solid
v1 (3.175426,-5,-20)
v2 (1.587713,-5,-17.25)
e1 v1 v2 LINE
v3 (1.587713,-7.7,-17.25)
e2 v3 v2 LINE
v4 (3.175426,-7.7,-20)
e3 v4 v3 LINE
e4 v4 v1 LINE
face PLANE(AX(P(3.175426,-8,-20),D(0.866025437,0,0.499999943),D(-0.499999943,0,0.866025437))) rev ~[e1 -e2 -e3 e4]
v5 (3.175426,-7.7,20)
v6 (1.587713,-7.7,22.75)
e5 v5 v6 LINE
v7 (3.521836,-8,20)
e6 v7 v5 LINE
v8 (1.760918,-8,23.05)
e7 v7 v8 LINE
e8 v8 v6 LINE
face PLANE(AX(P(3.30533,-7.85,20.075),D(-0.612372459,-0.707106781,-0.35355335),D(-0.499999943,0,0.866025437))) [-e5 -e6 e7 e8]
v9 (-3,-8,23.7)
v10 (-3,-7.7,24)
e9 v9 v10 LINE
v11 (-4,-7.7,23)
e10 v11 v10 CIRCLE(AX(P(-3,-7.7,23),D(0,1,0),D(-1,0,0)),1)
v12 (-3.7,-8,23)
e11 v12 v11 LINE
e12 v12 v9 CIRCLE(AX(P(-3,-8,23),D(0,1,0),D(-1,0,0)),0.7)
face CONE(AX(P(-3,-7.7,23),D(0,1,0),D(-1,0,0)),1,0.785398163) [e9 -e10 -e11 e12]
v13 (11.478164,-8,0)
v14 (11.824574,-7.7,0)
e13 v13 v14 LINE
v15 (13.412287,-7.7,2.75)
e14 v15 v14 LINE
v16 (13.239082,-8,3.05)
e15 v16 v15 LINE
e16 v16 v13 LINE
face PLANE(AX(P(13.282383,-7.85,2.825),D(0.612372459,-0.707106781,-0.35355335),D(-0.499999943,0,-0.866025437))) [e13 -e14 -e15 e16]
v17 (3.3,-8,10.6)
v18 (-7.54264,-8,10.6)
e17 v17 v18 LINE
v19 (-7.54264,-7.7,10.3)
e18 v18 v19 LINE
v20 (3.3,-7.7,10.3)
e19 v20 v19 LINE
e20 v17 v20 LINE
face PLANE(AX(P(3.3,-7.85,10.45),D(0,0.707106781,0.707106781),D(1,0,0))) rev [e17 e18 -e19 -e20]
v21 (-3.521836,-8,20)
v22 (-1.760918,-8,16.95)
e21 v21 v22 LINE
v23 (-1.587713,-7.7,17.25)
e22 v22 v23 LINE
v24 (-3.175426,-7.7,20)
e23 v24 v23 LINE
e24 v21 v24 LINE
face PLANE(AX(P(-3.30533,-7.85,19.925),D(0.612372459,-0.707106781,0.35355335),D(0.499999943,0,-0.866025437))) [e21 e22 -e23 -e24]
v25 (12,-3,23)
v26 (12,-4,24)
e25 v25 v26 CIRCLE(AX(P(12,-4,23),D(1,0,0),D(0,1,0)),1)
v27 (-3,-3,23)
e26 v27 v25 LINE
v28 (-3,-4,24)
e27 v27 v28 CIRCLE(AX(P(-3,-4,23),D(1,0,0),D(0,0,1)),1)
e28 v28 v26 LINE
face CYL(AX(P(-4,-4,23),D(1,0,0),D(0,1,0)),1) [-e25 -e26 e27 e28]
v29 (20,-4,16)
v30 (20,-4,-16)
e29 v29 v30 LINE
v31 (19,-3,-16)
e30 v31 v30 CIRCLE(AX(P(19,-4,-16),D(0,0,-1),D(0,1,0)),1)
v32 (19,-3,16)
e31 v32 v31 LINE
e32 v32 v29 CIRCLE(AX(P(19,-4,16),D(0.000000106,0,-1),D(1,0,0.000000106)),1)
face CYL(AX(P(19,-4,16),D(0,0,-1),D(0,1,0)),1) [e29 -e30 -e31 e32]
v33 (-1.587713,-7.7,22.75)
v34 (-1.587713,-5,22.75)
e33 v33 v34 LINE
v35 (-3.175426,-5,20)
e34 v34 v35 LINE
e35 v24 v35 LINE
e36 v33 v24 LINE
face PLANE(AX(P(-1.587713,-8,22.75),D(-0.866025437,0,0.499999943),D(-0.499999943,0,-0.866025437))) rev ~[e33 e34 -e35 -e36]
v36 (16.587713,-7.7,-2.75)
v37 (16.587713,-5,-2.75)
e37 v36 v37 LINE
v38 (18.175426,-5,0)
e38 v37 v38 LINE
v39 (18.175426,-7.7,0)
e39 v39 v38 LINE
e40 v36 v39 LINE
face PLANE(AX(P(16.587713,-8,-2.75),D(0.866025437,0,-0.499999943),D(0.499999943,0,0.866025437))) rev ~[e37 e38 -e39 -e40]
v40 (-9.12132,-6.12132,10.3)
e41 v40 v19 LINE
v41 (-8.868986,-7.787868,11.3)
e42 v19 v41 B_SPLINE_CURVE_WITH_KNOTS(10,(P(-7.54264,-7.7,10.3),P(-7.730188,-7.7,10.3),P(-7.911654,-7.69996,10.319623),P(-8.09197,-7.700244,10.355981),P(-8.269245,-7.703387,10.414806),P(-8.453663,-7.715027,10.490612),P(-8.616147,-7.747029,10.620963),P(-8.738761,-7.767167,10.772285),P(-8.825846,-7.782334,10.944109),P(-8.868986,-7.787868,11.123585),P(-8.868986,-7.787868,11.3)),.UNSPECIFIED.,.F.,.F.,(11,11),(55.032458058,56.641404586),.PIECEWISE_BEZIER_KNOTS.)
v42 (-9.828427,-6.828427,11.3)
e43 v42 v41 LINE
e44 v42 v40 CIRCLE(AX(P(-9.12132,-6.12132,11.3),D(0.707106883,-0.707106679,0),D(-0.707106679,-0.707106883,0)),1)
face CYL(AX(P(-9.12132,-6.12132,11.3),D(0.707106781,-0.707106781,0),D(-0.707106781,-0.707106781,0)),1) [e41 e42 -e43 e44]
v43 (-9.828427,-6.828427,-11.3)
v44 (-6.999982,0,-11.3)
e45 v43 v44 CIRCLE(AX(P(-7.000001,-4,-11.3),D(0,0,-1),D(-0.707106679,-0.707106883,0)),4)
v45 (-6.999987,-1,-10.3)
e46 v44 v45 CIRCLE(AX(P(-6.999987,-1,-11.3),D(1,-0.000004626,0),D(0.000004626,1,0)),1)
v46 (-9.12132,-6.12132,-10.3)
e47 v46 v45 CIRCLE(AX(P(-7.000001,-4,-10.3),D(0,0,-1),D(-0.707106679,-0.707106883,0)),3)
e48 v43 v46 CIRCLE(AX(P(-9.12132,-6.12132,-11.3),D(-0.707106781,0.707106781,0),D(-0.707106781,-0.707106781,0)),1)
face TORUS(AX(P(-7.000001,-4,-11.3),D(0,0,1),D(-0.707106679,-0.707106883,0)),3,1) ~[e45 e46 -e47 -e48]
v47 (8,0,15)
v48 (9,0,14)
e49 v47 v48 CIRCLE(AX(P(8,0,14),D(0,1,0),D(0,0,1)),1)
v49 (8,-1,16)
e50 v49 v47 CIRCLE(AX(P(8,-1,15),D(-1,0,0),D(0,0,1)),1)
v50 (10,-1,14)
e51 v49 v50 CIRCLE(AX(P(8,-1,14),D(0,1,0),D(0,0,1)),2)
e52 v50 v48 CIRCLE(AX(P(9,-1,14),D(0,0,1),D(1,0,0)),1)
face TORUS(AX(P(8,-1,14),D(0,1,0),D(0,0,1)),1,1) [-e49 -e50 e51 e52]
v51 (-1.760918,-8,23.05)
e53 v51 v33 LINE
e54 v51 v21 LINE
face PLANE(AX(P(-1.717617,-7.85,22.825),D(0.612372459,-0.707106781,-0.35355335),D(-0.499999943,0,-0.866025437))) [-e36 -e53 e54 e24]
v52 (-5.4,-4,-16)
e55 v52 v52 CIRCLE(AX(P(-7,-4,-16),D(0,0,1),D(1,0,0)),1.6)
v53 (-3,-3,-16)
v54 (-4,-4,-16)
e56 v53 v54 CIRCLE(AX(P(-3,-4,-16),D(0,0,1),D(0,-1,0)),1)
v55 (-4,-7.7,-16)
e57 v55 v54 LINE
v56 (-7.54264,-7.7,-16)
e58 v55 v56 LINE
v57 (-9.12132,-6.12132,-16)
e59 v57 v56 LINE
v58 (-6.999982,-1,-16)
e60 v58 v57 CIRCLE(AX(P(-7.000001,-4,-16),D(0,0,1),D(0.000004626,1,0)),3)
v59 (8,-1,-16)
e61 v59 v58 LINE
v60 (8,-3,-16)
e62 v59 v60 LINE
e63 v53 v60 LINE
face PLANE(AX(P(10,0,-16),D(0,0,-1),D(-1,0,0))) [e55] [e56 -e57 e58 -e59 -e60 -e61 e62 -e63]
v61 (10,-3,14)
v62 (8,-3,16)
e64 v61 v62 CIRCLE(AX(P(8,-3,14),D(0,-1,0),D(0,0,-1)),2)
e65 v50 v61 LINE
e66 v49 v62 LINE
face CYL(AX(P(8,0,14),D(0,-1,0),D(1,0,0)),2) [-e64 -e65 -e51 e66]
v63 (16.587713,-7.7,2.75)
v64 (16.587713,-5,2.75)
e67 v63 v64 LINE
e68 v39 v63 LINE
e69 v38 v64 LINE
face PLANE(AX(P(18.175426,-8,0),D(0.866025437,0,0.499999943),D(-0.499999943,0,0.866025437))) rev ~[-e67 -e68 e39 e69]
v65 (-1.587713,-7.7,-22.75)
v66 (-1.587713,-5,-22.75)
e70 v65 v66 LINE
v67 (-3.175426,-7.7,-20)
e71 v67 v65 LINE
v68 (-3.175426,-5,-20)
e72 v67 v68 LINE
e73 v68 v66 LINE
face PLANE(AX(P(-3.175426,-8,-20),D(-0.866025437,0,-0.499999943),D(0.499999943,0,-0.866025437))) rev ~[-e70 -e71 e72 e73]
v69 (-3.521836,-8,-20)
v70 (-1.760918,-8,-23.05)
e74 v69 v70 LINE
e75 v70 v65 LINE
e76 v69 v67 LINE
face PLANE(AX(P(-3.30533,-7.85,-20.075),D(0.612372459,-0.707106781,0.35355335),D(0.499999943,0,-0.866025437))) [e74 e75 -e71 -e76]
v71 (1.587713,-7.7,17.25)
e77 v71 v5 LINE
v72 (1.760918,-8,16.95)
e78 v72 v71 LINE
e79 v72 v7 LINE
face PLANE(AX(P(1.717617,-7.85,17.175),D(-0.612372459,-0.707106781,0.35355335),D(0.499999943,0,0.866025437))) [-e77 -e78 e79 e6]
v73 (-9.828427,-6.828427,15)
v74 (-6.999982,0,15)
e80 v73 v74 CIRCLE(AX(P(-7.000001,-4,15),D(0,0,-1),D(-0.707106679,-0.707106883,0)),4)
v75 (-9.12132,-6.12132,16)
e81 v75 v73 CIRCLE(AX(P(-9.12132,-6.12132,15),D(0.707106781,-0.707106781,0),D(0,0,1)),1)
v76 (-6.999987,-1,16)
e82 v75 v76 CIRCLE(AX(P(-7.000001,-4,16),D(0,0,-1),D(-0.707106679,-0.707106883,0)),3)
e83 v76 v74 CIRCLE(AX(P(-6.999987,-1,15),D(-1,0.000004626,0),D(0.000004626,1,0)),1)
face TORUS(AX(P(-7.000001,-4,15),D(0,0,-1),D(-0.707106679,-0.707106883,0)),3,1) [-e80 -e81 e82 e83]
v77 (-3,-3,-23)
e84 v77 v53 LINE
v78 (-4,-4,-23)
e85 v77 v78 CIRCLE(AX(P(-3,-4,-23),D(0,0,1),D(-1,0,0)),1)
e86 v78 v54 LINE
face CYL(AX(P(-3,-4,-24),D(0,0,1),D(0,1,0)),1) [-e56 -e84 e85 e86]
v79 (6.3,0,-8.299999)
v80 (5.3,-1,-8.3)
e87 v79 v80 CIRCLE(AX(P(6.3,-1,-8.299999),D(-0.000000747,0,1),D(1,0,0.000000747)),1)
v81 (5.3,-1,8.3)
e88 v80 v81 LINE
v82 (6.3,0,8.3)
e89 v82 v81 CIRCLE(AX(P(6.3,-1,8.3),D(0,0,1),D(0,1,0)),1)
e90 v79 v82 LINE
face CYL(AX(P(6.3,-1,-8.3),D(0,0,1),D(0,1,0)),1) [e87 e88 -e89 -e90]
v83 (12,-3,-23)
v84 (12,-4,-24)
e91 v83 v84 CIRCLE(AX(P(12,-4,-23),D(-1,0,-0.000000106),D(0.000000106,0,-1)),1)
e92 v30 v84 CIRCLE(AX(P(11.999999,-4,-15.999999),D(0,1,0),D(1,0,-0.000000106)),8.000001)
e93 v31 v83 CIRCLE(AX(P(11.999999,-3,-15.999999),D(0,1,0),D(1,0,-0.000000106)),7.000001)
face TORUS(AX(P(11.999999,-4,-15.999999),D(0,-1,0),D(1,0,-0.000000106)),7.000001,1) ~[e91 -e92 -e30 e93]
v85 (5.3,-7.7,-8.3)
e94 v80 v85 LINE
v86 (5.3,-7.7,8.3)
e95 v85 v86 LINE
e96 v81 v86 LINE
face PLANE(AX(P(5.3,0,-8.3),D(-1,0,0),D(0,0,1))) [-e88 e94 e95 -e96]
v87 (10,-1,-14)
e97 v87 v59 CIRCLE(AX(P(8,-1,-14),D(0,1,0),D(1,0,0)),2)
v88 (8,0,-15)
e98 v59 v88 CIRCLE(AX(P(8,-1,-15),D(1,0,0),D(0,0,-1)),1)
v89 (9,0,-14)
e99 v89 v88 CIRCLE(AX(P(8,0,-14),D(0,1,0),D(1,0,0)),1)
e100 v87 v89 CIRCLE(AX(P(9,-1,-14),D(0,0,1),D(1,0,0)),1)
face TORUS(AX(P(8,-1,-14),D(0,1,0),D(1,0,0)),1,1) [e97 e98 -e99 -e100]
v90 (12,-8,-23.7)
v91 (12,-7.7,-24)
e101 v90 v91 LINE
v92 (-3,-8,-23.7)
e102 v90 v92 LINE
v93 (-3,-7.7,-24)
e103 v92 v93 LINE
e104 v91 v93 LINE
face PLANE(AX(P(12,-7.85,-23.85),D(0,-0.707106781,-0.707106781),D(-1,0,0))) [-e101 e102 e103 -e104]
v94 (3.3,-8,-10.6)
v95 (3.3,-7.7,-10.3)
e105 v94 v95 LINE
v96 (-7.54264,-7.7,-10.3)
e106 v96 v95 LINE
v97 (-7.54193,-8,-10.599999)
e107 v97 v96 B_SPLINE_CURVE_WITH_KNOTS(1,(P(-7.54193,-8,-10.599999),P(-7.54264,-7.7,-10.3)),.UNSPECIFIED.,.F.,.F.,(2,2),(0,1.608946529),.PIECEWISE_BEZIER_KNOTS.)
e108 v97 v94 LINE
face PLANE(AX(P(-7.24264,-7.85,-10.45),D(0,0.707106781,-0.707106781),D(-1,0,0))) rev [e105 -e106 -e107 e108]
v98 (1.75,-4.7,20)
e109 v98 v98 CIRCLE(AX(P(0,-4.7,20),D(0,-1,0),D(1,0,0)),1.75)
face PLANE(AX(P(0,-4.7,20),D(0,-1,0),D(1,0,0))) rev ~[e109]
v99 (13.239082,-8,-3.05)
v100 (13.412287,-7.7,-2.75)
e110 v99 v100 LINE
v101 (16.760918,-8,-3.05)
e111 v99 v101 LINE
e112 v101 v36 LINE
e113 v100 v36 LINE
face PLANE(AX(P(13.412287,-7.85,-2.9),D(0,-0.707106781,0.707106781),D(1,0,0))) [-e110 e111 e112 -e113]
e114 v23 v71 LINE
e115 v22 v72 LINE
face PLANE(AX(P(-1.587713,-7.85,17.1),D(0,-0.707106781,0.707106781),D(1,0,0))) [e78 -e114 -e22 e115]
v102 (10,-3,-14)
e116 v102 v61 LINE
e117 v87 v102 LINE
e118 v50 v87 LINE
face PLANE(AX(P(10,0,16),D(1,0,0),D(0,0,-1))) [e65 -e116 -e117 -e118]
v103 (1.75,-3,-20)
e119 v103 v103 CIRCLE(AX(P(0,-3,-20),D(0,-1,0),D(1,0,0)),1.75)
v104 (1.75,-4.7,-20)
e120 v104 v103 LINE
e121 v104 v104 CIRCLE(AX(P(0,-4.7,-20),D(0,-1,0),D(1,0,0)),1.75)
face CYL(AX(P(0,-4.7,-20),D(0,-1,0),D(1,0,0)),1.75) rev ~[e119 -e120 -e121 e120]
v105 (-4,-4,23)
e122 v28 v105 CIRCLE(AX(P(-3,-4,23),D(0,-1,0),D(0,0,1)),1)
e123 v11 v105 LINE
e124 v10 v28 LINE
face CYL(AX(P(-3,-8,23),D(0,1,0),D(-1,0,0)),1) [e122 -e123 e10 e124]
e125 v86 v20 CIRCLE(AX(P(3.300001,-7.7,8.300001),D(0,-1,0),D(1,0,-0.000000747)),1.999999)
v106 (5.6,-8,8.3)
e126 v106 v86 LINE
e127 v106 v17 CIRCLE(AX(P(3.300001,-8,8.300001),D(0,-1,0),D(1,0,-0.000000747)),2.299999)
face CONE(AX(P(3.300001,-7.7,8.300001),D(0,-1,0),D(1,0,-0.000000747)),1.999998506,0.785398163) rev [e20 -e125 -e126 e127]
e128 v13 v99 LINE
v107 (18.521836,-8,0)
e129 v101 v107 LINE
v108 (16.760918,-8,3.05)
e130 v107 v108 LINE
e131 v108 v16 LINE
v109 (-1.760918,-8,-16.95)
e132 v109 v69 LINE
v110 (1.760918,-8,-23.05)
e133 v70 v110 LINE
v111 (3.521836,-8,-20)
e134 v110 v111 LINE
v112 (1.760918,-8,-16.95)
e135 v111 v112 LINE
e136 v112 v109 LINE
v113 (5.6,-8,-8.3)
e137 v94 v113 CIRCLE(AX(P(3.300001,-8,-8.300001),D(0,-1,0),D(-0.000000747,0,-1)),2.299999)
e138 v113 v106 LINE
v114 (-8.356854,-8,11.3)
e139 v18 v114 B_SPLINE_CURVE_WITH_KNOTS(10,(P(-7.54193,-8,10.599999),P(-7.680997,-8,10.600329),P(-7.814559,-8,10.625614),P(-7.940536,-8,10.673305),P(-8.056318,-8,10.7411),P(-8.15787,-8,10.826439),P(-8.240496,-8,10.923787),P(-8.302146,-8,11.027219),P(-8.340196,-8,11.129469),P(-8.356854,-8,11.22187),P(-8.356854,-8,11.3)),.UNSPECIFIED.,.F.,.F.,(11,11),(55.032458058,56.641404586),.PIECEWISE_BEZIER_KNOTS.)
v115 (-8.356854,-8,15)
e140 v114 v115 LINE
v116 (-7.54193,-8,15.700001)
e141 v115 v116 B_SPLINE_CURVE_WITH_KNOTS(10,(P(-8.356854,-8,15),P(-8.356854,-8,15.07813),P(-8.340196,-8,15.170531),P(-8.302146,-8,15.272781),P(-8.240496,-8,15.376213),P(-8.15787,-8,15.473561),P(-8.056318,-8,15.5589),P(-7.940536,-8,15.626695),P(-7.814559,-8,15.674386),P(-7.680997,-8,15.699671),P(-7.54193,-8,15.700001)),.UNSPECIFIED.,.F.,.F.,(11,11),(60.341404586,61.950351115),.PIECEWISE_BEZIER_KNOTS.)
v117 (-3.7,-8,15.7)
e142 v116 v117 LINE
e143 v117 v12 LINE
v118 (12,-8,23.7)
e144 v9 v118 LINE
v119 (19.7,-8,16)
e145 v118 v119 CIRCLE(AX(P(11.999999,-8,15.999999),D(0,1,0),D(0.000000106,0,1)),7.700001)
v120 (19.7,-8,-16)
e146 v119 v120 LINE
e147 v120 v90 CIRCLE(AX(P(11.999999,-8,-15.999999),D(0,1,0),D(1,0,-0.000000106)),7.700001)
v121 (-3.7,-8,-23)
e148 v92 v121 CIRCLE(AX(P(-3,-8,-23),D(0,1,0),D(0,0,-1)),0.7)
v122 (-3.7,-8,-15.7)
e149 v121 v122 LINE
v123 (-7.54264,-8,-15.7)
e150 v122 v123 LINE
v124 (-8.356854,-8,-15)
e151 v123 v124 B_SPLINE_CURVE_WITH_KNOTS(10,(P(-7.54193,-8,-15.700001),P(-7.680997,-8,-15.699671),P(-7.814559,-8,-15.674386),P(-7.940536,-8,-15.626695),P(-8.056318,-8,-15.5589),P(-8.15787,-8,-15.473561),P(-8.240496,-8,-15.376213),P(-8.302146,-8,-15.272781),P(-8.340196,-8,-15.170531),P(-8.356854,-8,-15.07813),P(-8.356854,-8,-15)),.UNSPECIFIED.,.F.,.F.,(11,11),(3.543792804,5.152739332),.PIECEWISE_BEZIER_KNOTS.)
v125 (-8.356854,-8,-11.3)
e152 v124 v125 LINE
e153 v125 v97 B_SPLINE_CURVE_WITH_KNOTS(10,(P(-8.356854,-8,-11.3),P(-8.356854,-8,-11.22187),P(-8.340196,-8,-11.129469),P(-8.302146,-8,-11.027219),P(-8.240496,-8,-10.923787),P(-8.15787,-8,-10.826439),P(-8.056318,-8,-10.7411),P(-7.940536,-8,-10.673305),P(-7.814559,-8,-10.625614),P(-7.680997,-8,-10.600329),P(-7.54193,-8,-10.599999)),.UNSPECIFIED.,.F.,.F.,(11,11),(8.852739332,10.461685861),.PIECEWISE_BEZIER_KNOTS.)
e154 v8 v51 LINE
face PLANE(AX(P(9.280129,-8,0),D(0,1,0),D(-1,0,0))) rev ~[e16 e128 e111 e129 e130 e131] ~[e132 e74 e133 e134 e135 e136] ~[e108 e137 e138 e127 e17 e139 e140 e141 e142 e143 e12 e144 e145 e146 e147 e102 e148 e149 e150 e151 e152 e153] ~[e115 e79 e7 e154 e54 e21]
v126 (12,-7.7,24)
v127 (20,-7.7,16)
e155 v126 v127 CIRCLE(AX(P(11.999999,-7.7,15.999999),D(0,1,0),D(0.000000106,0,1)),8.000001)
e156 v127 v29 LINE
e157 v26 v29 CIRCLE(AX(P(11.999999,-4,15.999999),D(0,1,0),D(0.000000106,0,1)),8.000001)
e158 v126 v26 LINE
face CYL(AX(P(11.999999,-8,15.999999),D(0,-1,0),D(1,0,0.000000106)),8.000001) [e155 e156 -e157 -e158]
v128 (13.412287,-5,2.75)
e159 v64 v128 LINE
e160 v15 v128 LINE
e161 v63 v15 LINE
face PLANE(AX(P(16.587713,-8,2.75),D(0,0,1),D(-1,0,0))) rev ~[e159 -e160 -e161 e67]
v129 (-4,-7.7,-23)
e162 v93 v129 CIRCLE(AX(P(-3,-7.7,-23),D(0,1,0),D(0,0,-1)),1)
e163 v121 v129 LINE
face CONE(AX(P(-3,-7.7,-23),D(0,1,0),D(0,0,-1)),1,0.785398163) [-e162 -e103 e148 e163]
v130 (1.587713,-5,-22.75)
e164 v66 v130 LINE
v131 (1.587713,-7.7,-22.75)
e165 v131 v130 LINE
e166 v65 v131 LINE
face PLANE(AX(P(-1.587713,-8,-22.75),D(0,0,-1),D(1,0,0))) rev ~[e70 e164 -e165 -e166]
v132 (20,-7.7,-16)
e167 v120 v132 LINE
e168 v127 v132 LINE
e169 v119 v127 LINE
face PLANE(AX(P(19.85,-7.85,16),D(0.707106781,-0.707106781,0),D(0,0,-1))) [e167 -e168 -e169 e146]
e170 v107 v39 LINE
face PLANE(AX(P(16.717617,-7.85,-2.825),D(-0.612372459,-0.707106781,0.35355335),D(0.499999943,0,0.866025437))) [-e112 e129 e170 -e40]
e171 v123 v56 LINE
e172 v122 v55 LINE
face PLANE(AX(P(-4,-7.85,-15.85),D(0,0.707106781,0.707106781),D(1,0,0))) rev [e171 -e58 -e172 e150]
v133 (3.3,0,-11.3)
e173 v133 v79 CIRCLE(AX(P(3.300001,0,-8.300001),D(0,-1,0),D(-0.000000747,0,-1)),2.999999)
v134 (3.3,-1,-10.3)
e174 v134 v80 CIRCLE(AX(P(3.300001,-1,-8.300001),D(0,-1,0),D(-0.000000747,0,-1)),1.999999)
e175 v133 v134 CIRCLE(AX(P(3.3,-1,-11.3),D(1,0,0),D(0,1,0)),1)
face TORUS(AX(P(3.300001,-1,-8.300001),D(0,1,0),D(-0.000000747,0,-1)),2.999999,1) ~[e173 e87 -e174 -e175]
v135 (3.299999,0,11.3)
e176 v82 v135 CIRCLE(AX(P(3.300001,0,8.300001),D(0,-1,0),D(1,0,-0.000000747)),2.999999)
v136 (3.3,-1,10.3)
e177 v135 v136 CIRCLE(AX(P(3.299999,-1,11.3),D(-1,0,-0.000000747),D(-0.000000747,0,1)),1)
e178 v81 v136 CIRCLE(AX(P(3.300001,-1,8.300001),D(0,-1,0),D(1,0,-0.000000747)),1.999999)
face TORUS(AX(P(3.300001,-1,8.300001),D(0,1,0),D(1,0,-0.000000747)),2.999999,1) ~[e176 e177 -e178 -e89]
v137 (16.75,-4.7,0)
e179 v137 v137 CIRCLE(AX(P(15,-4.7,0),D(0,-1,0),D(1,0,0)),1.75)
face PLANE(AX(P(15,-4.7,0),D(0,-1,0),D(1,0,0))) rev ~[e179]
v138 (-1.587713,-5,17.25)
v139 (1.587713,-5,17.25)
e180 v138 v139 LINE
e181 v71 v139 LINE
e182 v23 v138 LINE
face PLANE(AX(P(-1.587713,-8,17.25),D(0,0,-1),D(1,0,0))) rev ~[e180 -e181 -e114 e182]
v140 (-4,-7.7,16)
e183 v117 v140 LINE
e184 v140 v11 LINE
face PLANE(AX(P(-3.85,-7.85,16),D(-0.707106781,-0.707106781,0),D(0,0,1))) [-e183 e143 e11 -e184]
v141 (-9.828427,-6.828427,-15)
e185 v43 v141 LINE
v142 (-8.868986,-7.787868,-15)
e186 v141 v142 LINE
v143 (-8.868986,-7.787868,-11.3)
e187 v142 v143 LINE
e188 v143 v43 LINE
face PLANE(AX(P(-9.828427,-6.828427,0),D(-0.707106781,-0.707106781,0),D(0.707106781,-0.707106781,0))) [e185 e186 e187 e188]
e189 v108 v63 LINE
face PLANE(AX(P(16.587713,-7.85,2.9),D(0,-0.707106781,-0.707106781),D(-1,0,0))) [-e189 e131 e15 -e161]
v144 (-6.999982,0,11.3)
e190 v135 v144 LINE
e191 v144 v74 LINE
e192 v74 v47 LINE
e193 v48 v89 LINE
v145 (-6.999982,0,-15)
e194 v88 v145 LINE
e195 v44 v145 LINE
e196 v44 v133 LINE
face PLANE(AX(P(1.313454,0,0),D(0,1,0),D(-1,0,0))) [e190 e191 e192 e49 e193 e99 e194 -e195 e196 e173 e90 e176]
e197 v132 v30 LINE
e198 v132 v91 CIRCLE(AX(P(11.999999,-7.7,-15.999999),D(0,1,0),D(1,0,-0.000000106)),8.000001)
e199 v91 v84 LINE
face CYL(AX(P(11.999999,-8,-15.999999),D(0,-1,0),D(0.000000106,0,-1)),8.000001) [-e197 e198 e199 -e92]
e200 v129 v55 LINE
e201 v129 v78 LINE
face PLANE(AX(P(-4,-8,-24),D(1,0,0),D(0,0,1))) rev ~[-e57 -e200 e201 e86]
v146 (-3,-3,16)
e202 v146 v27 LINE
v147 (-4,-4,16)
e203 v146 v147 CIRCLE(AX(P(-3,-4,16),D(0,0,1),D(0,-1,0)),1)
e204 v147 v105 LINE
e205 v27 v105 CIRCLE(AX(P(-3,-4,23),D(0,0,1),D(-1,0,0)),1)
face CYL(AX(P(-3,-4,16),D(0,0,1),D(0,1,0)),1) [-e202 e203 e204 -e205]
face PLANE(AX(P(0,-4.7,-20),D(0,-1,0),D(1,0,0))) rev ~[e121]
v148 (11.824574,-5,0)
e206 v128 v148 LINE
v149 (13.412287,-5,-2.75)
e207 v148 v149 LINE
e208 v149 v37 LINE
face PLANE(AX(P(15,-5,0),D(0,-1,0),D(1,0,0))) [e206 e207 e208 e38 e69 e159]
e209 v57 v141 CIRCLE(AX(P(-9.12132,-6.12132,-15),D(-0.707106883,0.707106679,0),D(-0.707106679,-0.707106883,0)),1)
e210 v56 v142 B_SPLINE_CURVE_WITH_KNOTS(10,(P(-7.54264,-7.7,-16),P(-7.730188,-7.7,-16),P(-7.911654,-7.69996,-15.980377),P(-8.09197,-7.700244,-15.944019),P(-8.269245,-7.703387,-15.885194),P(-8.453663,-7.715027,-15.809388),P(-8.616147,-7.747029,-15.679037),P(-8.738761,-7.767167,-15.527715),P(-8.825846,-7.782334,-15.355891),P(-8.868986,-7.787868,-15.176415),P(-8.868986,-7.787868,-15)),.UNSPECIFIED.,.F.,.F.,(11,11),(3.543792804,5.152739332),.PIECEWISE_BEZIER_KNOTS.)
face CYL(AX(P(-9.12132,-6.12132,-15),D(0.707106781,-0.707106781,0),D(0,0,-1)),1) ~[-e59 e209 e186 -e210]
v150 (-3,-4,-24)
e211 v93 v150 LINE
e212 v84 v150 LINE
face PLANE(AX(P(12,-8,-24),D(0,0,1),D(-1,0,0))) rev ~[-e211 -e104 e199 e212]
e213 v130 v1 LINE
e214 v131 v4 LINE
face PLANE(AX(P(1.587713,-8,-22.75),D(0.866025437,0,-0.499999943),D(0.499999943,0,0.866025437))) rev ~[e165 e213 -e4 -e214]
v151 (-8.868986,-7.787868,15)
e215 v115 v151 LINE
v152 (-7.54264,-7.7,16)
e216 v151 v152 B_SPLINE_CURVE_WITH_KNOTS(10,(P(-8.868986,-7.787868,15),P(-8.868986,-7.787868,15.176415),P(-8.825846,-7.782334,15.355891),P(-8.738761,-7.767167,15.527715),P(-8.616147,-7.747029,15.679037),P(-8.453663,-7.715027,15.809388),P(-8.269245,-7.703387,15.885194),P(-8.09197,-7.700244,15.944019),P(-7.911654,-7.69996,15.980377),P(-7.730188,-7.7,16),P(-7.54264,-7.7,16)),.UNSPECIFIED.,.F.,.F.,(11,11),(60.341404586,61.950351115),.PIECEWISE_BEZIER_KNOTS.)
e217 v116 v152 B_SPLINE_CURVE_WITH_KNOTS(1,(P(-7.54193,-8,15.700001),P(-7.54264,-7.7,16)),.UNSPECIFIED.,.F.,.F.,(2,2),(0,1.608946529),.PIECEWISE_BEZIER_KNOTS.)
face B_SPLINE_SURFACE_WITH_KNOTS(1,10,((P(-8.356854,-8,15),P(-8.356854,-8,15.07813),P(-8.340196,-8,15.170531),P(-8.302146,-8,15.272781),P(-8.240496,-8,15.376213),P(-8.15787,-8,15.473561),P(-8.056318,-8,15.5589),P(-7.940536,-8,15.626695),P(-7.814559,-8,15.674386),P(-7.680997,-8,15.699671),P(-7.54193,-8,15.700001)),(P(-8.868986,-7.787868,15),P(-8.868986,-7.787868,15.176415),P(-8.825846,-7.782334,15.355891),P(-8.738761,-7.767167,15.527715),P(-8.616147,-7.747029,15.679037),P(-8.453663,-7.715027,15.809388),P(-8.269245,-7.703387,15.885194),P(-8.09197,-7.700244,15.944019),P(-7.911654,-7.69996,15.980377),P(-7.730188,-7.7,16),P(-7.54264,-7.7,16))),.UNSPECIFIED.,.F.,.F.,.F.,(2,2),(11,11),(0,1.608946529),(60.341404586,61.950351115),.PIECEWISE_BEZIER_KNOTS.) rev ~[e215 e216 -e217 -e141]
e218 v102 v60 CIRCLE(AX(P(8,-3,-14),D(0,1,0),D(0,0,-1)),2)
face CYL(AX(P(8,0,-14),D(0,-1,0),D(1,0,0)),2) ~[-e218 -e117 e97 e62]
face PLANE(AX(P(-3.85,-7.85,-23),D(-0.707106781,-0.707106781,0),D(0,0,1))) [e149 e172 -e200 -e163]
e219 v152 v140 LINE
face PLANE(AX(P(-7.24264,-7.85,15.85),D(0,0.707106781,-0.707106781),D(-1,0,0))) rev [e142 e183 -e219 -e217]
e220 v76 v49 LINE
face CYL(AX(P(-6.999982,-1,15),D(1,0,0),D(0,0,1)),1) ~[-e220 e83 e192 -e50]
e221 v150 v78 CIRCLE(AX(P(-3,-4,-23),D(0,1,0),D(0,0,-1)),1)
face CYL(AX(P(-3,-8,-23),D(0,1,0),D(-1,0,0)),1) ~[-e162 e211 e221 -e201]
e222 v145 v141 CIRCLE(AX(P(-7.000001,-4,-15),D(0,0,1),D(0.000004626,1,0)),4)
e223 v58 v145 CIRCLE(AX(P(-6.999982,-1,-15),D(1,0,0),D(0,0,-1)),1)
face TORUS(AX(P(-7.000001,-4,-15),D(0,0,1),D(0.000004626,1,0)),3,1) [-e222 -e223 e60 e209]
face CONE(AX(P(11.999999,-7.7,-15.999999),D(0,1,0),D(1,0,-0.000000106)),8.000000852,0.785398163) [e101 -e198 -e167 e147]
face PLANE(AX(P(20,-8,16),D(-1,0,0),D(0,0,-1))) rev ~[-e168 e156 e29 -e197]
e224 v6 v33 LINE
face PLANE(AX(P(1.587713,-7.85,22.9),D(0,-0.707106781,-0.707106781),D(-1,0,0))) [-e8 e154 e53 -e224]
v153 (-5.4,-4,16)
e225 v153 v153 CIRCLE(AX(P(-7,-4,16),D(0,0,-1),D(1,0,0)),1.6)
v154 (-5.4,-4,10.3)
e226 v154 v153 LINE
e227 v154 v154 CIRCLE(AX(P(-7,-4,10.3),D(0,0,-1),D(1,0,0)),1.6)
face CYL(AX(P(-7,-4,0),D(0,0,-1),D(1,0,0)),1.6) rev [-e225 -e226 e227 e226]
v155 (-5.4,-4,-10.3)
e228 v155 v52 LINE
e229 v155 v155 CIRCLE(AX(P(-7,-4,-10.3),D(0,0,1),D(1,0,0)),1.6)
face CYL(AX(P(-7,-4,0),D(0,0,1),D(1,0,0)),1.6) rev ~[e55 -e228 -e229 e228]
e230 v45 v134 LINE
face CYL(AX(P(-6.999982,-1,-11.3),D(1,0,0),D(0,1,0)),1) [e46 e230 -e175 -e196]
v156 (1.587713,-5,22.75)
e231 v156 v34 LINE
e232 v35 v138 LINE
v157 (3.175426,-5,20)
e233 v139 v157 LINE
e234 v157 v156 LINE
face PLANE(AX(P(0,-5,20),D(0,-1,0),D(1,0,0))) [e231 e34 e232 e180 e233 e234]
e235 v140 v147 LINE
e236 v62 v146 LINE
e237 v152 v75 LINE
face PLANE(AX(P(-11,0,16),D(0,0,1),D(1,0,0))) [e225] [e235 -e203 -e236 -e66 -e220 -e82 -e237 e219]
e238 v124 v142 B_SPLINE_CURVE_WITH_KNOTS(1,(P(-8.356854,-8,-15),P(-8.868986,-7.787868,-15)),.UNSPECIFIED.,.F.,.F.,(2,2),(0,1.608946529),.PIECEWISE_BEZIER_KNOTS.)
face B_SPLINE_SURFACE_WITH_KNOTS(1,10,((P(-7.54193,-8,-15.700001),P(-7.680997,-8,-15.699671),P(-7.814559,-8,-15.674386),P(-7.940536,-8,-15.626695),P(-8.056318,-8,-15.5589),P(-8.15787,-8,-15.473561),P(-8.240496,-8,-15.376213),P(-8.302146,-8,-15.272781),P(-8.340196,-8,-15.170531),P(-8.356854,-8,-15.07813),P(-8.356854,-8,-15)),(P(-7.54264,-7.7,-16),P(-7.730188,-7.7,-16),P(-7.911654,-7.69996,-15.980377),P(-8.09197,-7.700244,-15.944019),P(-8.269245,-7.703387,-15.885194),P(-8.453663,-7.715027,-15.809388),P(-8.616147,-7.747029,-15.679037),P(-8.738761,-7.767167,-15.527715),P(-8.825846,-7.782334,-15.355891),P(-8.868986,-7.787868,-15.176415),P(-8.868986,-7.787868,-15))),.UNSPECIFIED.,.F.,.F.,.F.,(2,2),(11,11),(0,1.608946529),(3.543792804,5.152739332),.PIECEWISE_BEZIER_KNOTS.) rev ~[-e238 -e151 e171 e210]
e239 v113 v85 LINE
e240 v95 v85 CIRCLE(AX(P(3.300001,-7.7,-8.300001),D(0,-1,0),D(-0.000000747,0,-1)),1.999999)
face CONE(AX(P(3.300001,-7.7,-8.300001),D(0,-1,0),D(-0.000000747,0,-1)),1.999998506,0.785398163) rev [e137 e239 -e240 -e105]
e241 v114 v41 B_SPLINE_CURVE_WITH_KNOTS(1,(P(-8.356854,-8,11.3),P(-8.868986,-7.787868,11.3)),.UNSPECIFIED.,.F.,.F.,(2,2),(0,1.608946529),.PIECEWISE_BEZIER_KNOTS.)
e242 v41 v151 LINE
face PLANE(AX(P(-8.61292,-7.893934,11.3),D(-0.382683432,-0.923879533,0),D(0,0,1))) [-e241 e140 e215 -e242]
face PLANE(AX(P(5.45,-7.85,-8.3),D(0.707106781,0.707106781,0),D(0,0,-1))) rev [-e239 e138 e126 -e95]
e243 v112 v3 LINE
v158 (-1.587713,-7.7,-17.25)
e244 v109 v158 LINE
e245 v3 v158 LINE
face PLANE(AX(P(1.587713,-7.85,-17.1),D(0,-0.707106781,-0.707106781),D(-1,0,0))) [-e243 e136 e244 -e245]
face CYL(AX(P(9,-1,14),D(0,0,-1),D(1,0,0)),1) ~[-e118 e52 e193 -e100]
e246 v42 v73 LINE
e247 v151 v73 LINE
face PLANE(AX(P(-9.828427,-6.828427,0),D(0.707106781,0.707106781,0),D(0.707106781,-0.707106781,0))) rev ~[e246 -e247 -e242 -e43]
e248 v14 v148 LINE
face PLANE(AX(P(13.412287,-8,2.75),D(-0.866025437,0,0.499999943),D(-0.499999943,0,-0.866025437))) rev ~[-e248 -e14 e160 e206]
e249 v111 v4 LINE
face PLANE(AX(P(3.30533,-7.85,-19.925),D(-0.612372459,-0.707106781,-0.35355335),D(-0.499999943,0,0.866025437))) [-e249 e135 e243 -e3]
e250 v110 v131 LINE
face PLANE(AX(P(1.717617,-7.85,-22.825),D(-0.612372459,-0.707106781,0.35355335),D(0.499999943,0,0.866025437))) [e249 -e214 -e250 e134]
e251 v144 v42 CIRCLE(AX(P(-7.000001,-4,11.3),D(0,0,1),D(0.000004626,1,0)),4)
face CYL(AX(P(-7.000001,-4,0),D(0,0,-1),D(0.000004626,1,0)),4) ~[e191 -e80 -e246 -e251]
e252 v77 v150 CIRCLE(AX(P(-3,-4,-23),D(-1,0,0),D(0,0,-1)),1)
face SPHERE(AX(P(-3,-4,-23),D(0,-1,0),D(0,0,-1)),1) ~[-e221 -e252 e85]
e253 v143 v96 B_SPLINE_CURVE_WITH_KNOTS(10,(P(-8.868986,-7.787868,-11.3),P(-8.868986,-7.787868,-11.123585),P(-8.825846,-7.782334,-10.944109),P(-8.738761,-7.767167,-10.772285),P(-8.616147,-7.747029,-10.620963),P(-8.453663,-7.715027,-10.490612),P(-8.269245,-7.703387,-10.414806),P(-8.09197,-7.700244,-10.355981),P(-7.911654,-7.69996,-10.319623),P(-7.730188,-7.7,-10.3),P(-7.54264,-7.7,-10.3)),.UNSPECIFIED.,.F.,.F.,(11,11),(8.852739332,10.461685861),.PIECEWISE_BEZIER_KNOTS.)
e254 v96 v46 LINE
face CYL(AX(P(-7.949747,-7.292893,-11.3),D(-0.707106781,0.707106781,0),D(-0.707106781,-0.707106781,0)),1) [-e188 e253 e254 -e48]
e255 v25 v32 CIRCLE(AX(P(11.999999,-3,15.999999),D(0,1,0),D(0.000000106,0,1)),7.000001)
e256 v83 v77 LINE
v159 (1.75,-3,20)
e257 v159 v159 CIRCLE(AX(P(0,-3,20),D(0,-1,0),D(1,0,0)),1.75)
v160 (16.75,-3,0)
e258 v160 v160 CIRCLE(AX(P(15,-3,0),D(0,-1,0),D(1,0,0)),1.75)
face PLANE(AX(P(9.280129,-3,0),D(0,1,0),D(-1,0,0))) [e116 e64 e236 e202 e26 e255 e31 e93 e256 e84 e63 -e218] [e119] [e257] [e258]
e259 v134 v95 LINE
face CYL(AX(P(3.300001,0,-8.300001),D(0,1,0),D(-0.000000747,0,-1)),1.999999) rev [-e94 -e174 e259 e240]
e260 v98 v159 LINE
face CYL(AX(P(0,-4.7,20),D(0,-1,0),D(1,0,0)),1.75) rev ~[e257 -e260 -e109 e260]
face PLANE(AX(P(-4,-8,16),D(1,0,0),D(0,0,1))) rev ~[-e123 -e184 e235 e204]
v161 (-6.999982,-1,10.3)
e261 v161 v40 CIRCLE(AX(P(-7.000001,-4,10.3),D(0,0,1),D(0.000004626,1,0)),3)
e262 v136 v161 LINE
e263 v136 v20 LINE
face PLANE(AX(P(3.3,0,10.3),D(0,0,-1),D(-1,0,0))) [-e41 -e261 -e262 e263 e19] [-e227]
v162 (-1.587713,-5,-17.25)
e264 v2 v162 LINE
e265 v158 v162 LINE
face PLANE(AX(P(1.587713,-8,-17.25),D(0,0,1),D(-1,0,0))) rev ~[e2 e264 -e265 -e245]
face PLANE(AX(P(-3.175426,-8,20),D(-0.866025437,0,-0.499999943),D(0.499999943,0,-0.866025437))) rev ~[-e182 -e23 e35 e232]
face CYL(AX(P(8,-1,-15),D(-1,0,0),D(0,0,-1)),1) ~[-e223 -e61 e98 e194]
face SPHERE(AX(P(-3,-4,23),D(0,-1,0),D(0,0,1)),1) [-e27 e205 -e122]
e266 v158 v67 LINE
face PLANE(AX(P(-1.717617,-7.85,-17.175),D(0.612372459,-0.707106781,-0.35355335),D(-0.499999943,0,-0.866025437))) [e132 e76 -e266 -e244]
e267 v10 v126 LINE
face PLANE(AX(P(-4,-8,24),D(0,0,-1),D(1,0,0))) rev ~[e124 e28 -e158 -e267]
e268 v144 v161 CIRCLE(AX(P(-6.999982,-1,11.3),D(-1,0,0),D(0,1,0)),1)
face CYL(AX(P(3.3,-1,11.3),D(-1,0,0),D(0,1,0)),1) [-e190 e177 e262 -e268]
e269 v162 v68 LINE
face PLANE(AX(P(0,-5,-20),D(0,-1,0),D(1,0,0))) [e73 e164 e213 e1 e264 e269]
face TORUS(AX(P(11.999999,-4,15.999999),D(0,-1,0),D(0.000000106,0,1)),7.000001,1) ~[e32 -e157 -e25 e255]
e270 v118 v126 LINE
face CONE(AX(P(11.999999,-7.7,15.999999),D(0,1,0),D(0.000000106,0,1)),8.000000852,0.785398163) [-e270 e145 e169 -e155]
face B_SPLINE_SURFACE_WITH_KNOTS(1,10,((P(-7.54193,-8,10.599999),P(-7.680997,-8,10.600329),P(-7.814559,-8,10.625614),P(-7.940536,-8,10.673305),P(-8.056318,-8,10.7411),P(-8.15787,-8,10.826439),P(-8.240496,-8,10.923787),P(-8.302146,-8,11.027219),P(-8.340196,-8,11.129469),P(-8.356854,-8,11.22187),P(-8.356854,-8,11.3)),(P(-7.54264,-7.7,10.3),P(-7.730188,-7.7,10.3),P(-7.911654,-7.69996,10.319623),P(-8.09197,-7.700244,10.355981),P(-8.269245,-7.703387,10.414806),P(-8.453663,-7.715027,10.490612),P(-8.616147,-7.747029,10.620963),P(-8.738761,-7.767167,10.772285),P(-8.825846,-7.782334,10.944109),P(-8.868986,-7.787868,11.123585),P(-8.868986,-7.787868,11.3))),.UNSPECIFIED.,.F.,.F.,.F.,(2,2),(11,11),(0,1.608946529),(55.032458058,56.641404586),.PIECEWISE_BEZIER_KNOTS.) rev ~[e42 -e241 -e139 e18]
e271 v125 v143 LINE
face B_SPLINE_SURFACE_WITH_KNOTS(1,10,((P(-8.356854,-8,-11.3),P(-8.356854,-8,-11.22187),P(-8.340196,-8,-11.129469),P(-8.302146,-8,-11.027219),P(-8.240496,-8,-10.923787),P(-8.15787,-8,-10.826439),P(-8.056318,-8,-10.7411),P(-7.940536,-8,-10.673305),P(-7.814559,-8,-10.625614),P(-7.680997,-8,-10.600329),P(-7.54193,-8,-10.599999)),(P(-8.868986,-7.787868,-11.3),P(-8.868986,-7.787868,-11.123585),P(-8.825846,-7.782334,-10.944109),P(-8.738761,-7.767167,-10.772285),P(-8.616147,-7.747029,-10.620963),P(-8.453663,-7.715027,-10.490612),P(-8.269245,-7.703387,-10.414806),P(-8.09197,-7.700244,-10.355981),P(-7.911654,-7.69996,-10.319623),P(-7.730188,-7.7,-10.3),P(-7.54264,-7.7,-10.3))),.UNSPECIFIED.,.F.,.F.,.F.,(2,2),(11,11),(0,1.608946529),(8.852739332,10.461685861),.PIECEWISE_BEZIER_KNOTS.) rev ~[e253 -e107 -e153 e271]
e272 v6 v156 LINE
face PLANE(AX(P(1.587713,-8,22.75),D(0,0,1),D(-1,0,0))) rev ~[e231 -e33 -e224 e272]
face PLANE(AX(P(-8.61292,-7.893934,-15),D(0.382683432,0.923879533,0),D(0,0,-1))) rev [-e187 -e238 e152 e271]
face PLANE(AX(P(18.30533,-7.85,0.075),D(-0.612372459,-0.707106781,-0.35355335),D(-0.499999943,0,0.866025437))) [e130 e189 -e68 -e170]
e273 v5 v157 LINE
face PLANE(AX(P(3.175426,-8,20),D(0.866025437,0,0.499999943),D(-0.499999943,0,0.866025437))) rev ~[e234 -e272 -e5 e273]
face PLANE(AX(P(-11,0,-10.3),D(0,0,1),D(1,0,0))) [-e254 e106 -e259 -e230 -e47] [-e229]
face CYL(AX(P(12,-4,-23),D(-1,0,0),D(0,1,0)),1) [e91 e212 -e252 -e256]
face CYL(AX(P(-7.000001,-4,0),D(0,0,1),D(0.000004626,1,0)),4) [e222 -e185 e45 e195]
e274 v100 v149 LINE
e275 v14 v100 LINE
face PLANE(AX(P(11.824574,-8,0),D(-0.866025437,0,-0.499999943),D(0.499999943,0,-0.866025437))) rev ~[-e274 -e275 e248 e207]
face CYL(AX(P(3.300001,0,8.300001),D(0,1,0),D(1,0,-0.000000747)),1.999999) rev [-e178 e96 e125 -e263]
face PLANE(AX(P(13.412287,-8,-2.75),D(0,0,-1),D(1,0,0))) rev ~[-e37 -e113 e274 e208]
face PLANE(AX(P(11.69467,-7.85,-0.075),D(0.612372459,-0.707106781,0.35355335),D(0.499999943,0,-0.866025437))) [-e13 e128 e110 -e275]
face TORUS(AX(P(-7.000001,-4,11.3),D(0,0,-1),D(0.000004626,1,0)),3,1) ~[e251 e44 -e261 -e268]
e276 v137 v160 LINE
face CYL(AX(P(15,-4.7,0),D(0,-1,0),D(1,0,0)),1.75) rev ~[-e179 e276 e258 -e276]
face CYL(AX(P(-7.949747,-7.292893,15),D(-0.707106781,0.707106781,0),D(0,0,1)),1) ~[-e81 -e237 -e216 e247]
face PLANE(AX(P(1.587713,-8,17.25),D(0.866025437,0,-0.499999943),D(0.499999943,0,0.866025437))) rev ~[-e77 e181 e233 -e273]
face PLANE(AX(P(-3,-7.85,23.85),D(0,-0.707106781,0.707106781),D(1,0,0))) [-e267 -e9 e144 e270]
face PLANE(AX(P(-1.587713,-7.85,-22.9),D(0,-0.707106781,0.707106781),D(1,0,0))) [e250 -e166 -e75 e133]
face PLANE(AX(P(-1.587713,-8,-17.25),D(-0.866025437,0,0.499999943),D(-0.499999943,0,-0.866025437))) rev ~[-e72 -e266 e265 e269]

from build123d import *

# Parameters (mm, degrees)
PAD096_DEPTH         = 8
PAD097_DEPTH         = 5
SKETCH440_R          = 1.6
POCKET308_DEPTH      = 24.001
POCKET308_DEPTH_BACK = 24.001
FILLET005_R          = 2
FILLET006_R          = 1
POCKET309_DEPTH      = 3
SKETCH442_R          = 1.75
POCKET310_DEPTH      = 4.701
CHAMFER008_SIZE      = 0.3


with BuildPart() as part:
    # Sketch438 → Pad096 (new body)
    with BuildSketch(Plane.XZ):
        with BuildLine():
            Line((3.3, 10.3), (-11, 10.3))
            Line((-11, 10.3), (-11, 16))
            Line((-11, 16), (10, 16))
            Line((10, 16), (10, -16))
            Line((10, -16), (-11, -16))
            Line((-11, -16), (-11, -10.3))
            Line((-11, -10.3), (3.3, -10.3))
            ThreePointArc((3.3, -10.3), (4.714214, -9.714214), (5.3, -8.3))
            Line((5.3, -8.3), (5.3, 8.3))
            ThreePointArc((5.3, 8.3), (4.714214, 9.714214), (3.3, 10.3))
        make_face()
    extrude(amount=PAD096_DEPTH)

    # Sketch439 → Pad097 (join)
    with BuildSketch(Plane.XZ.offset(8)):
        with BuildLine():
            Line((-4, 16), (-4, 24))
            Line((-4, 24), (12, 24))
            ThreePointArc((20, 16), (17.656854, 21.656854), (12, 24))
            Line((20, 16), (20, -16))
            ThreePointArc((12, -24), (17.656854, -21.656854), (20, -16))
            Line((12, -24), (-4, -24))
            Line((-4, -24), (-4, -16))
            Line((-4, -16), (10, -16))
            Line((10, -16), (10, 16))
            Line((10, 16), (-4, 16))
        make_face()
    extrude(amount=-PAD097_DEPTH)

    # Sketch440 → Pocket308 (cut, two sides)
    with BuildSketch(Plane.XY) as pocket308_sk:
        with Locations((-7, -4)):
            Circle(SKETCH440_R)
        with BuildLine():
            ThreePointArc((-6.999982, 0), (-10.695515, -2.469258), (-9.828427, -6.828427))
            Line((-9.828427, -6.828427), (-8.656854, -8))
            Line((-8.656854, -8), (-11.999982, -8))
            Line((-11.999982, -8), (-11.999982, 0))
            Line((-11.999982, 0), (-6.999982, 0))
        make_face()
    extrude(amount=-POCKET308_DEPTH, mode=Mode.SUBTRACT)
    extrude(pocket308_sk.sketch, amount=POCKET308_DEPTH_BACK, mode=Mode.SUBTRACT)

    # Fillet005
    fillet005_edges = [part.edges().sort_by_distance(p)[0] for p in [
        (10, -1.5, 16),
        (10, -1.5, -16),
    ]]
    fillet(fillet005_edges, radius=FILLET005_R)

    # Fillet006
    fillet006_edges = [part.edges().sort_by_distance(p)[0] for p in [
        (-4, -5.5, -24),
        (-4, -5.5, 24),
        (4, -3, -24),
        (-4, -3, -20),
        (-4, -3, 20),
        (10, 0, 0),
        (5.3, 0, 0),
    ]]
    fillet(fillet006_edges, radius=FILLET006_R)

    # Sketch441 → Pocket309 (cut)
    with BuildSketch(Plane.XZ.offset(8)):
        Polygon((3.175426, 20), (1.587713, 22.75), (-1.587713, 22.75), (-3.175426, 20), (-1.587713, 17.25), (1.587713, 17.25), align=None)
        Polygon((1.587713, -22.75), (3.175426, -20), (1.587713, -17.25), (-1.587713, -17.25), (-3.175426, -20), (-1.587713, -22.75), align=None)
        Polygon((13.412287, -2.75), (16.587713, -2.75), (18.175426, 0), (16.587713, 2.75), (13.412287, 2.75), (11.824574, 0), align=None)
    extrude(amount=-POCKET309_DEPTH, mode=Mode.SUBTRACT)

    # Sketch442 → Pocket310 (cut, through all)
    with BuildSketch(Plane.XZ.offset(4.7)):
        with Locations((0, 20)):
            Circle(SKETCH442_R)
        with Locations((15, 0)):
            Circle(SKETCH442_R)
        with Locations((0, -20)):
            Circle(SKETCH442_R)
    extrude(amount=-POCKET310_DEPTH, mode=Mode.SUBTRACT)

    # Chamfer008
    chamfer008_edges = [part.edges().sort_by_distance(p)[0] for p in [
        (-1.97132, -8, 10.3),
        (-8.156292, -8, 10.536704),
        (4.714214, -8, 9.714214),
        (-8.656854, -8, 13.15),
        (5.3, -8, 0),
        (-8.156292, -8, 15.763296),
        (4.714214, -8, -9.714214),
        (-5.62132, -8, 16),
        (-1.97132, -8, -10.3),
        (-4, -8, 19.5),
        (-8.156292, -8, -10.536704),
        (-3.707107, -8, 23.707107),
        (-8.656854, -8, -13.15),
        (4.5, -8, 24),
        (-8.156292, -8, -15.763296),
        (17.656854, -8, 21.656854),
        (-5.62132, -8, -16),
        (20, -8, 0),
        (-4, -8, -19.5),
        (17.656854, -8, -21.656854),
        (-3.707107, -8, -23.707107),
        (4.5, -8, -24),
        (15, -8, -2.75),
        (17.38157, -8, -1.375),
        (17.38157, -8, 1.375),
        (15, -8, 2.75),
        (12.61843, -8, 1.375),
        (12.61843, -8, -1.375),
        (2.38157, -8, -21.375),
        (2.38157, -8, -18.625),
        (0, -8, -17.25),
        (-2.38157, -8, -18.625),
        (-2.38157, -8, -21.375),
        (0, -8, -22.75),
        (2.38157, -8, 21.375),
        (0, -8, 22.75),
        (-2.38157, -8, 21.375),
        (-2.38157, -8, 18.625),
        (0, -8, 17.25),
        (2.38157, -8, 18.625),
    ]]
    chamfer(chamfer008_edges, length=CHAMFER008_SIZE)


solid = part.part
